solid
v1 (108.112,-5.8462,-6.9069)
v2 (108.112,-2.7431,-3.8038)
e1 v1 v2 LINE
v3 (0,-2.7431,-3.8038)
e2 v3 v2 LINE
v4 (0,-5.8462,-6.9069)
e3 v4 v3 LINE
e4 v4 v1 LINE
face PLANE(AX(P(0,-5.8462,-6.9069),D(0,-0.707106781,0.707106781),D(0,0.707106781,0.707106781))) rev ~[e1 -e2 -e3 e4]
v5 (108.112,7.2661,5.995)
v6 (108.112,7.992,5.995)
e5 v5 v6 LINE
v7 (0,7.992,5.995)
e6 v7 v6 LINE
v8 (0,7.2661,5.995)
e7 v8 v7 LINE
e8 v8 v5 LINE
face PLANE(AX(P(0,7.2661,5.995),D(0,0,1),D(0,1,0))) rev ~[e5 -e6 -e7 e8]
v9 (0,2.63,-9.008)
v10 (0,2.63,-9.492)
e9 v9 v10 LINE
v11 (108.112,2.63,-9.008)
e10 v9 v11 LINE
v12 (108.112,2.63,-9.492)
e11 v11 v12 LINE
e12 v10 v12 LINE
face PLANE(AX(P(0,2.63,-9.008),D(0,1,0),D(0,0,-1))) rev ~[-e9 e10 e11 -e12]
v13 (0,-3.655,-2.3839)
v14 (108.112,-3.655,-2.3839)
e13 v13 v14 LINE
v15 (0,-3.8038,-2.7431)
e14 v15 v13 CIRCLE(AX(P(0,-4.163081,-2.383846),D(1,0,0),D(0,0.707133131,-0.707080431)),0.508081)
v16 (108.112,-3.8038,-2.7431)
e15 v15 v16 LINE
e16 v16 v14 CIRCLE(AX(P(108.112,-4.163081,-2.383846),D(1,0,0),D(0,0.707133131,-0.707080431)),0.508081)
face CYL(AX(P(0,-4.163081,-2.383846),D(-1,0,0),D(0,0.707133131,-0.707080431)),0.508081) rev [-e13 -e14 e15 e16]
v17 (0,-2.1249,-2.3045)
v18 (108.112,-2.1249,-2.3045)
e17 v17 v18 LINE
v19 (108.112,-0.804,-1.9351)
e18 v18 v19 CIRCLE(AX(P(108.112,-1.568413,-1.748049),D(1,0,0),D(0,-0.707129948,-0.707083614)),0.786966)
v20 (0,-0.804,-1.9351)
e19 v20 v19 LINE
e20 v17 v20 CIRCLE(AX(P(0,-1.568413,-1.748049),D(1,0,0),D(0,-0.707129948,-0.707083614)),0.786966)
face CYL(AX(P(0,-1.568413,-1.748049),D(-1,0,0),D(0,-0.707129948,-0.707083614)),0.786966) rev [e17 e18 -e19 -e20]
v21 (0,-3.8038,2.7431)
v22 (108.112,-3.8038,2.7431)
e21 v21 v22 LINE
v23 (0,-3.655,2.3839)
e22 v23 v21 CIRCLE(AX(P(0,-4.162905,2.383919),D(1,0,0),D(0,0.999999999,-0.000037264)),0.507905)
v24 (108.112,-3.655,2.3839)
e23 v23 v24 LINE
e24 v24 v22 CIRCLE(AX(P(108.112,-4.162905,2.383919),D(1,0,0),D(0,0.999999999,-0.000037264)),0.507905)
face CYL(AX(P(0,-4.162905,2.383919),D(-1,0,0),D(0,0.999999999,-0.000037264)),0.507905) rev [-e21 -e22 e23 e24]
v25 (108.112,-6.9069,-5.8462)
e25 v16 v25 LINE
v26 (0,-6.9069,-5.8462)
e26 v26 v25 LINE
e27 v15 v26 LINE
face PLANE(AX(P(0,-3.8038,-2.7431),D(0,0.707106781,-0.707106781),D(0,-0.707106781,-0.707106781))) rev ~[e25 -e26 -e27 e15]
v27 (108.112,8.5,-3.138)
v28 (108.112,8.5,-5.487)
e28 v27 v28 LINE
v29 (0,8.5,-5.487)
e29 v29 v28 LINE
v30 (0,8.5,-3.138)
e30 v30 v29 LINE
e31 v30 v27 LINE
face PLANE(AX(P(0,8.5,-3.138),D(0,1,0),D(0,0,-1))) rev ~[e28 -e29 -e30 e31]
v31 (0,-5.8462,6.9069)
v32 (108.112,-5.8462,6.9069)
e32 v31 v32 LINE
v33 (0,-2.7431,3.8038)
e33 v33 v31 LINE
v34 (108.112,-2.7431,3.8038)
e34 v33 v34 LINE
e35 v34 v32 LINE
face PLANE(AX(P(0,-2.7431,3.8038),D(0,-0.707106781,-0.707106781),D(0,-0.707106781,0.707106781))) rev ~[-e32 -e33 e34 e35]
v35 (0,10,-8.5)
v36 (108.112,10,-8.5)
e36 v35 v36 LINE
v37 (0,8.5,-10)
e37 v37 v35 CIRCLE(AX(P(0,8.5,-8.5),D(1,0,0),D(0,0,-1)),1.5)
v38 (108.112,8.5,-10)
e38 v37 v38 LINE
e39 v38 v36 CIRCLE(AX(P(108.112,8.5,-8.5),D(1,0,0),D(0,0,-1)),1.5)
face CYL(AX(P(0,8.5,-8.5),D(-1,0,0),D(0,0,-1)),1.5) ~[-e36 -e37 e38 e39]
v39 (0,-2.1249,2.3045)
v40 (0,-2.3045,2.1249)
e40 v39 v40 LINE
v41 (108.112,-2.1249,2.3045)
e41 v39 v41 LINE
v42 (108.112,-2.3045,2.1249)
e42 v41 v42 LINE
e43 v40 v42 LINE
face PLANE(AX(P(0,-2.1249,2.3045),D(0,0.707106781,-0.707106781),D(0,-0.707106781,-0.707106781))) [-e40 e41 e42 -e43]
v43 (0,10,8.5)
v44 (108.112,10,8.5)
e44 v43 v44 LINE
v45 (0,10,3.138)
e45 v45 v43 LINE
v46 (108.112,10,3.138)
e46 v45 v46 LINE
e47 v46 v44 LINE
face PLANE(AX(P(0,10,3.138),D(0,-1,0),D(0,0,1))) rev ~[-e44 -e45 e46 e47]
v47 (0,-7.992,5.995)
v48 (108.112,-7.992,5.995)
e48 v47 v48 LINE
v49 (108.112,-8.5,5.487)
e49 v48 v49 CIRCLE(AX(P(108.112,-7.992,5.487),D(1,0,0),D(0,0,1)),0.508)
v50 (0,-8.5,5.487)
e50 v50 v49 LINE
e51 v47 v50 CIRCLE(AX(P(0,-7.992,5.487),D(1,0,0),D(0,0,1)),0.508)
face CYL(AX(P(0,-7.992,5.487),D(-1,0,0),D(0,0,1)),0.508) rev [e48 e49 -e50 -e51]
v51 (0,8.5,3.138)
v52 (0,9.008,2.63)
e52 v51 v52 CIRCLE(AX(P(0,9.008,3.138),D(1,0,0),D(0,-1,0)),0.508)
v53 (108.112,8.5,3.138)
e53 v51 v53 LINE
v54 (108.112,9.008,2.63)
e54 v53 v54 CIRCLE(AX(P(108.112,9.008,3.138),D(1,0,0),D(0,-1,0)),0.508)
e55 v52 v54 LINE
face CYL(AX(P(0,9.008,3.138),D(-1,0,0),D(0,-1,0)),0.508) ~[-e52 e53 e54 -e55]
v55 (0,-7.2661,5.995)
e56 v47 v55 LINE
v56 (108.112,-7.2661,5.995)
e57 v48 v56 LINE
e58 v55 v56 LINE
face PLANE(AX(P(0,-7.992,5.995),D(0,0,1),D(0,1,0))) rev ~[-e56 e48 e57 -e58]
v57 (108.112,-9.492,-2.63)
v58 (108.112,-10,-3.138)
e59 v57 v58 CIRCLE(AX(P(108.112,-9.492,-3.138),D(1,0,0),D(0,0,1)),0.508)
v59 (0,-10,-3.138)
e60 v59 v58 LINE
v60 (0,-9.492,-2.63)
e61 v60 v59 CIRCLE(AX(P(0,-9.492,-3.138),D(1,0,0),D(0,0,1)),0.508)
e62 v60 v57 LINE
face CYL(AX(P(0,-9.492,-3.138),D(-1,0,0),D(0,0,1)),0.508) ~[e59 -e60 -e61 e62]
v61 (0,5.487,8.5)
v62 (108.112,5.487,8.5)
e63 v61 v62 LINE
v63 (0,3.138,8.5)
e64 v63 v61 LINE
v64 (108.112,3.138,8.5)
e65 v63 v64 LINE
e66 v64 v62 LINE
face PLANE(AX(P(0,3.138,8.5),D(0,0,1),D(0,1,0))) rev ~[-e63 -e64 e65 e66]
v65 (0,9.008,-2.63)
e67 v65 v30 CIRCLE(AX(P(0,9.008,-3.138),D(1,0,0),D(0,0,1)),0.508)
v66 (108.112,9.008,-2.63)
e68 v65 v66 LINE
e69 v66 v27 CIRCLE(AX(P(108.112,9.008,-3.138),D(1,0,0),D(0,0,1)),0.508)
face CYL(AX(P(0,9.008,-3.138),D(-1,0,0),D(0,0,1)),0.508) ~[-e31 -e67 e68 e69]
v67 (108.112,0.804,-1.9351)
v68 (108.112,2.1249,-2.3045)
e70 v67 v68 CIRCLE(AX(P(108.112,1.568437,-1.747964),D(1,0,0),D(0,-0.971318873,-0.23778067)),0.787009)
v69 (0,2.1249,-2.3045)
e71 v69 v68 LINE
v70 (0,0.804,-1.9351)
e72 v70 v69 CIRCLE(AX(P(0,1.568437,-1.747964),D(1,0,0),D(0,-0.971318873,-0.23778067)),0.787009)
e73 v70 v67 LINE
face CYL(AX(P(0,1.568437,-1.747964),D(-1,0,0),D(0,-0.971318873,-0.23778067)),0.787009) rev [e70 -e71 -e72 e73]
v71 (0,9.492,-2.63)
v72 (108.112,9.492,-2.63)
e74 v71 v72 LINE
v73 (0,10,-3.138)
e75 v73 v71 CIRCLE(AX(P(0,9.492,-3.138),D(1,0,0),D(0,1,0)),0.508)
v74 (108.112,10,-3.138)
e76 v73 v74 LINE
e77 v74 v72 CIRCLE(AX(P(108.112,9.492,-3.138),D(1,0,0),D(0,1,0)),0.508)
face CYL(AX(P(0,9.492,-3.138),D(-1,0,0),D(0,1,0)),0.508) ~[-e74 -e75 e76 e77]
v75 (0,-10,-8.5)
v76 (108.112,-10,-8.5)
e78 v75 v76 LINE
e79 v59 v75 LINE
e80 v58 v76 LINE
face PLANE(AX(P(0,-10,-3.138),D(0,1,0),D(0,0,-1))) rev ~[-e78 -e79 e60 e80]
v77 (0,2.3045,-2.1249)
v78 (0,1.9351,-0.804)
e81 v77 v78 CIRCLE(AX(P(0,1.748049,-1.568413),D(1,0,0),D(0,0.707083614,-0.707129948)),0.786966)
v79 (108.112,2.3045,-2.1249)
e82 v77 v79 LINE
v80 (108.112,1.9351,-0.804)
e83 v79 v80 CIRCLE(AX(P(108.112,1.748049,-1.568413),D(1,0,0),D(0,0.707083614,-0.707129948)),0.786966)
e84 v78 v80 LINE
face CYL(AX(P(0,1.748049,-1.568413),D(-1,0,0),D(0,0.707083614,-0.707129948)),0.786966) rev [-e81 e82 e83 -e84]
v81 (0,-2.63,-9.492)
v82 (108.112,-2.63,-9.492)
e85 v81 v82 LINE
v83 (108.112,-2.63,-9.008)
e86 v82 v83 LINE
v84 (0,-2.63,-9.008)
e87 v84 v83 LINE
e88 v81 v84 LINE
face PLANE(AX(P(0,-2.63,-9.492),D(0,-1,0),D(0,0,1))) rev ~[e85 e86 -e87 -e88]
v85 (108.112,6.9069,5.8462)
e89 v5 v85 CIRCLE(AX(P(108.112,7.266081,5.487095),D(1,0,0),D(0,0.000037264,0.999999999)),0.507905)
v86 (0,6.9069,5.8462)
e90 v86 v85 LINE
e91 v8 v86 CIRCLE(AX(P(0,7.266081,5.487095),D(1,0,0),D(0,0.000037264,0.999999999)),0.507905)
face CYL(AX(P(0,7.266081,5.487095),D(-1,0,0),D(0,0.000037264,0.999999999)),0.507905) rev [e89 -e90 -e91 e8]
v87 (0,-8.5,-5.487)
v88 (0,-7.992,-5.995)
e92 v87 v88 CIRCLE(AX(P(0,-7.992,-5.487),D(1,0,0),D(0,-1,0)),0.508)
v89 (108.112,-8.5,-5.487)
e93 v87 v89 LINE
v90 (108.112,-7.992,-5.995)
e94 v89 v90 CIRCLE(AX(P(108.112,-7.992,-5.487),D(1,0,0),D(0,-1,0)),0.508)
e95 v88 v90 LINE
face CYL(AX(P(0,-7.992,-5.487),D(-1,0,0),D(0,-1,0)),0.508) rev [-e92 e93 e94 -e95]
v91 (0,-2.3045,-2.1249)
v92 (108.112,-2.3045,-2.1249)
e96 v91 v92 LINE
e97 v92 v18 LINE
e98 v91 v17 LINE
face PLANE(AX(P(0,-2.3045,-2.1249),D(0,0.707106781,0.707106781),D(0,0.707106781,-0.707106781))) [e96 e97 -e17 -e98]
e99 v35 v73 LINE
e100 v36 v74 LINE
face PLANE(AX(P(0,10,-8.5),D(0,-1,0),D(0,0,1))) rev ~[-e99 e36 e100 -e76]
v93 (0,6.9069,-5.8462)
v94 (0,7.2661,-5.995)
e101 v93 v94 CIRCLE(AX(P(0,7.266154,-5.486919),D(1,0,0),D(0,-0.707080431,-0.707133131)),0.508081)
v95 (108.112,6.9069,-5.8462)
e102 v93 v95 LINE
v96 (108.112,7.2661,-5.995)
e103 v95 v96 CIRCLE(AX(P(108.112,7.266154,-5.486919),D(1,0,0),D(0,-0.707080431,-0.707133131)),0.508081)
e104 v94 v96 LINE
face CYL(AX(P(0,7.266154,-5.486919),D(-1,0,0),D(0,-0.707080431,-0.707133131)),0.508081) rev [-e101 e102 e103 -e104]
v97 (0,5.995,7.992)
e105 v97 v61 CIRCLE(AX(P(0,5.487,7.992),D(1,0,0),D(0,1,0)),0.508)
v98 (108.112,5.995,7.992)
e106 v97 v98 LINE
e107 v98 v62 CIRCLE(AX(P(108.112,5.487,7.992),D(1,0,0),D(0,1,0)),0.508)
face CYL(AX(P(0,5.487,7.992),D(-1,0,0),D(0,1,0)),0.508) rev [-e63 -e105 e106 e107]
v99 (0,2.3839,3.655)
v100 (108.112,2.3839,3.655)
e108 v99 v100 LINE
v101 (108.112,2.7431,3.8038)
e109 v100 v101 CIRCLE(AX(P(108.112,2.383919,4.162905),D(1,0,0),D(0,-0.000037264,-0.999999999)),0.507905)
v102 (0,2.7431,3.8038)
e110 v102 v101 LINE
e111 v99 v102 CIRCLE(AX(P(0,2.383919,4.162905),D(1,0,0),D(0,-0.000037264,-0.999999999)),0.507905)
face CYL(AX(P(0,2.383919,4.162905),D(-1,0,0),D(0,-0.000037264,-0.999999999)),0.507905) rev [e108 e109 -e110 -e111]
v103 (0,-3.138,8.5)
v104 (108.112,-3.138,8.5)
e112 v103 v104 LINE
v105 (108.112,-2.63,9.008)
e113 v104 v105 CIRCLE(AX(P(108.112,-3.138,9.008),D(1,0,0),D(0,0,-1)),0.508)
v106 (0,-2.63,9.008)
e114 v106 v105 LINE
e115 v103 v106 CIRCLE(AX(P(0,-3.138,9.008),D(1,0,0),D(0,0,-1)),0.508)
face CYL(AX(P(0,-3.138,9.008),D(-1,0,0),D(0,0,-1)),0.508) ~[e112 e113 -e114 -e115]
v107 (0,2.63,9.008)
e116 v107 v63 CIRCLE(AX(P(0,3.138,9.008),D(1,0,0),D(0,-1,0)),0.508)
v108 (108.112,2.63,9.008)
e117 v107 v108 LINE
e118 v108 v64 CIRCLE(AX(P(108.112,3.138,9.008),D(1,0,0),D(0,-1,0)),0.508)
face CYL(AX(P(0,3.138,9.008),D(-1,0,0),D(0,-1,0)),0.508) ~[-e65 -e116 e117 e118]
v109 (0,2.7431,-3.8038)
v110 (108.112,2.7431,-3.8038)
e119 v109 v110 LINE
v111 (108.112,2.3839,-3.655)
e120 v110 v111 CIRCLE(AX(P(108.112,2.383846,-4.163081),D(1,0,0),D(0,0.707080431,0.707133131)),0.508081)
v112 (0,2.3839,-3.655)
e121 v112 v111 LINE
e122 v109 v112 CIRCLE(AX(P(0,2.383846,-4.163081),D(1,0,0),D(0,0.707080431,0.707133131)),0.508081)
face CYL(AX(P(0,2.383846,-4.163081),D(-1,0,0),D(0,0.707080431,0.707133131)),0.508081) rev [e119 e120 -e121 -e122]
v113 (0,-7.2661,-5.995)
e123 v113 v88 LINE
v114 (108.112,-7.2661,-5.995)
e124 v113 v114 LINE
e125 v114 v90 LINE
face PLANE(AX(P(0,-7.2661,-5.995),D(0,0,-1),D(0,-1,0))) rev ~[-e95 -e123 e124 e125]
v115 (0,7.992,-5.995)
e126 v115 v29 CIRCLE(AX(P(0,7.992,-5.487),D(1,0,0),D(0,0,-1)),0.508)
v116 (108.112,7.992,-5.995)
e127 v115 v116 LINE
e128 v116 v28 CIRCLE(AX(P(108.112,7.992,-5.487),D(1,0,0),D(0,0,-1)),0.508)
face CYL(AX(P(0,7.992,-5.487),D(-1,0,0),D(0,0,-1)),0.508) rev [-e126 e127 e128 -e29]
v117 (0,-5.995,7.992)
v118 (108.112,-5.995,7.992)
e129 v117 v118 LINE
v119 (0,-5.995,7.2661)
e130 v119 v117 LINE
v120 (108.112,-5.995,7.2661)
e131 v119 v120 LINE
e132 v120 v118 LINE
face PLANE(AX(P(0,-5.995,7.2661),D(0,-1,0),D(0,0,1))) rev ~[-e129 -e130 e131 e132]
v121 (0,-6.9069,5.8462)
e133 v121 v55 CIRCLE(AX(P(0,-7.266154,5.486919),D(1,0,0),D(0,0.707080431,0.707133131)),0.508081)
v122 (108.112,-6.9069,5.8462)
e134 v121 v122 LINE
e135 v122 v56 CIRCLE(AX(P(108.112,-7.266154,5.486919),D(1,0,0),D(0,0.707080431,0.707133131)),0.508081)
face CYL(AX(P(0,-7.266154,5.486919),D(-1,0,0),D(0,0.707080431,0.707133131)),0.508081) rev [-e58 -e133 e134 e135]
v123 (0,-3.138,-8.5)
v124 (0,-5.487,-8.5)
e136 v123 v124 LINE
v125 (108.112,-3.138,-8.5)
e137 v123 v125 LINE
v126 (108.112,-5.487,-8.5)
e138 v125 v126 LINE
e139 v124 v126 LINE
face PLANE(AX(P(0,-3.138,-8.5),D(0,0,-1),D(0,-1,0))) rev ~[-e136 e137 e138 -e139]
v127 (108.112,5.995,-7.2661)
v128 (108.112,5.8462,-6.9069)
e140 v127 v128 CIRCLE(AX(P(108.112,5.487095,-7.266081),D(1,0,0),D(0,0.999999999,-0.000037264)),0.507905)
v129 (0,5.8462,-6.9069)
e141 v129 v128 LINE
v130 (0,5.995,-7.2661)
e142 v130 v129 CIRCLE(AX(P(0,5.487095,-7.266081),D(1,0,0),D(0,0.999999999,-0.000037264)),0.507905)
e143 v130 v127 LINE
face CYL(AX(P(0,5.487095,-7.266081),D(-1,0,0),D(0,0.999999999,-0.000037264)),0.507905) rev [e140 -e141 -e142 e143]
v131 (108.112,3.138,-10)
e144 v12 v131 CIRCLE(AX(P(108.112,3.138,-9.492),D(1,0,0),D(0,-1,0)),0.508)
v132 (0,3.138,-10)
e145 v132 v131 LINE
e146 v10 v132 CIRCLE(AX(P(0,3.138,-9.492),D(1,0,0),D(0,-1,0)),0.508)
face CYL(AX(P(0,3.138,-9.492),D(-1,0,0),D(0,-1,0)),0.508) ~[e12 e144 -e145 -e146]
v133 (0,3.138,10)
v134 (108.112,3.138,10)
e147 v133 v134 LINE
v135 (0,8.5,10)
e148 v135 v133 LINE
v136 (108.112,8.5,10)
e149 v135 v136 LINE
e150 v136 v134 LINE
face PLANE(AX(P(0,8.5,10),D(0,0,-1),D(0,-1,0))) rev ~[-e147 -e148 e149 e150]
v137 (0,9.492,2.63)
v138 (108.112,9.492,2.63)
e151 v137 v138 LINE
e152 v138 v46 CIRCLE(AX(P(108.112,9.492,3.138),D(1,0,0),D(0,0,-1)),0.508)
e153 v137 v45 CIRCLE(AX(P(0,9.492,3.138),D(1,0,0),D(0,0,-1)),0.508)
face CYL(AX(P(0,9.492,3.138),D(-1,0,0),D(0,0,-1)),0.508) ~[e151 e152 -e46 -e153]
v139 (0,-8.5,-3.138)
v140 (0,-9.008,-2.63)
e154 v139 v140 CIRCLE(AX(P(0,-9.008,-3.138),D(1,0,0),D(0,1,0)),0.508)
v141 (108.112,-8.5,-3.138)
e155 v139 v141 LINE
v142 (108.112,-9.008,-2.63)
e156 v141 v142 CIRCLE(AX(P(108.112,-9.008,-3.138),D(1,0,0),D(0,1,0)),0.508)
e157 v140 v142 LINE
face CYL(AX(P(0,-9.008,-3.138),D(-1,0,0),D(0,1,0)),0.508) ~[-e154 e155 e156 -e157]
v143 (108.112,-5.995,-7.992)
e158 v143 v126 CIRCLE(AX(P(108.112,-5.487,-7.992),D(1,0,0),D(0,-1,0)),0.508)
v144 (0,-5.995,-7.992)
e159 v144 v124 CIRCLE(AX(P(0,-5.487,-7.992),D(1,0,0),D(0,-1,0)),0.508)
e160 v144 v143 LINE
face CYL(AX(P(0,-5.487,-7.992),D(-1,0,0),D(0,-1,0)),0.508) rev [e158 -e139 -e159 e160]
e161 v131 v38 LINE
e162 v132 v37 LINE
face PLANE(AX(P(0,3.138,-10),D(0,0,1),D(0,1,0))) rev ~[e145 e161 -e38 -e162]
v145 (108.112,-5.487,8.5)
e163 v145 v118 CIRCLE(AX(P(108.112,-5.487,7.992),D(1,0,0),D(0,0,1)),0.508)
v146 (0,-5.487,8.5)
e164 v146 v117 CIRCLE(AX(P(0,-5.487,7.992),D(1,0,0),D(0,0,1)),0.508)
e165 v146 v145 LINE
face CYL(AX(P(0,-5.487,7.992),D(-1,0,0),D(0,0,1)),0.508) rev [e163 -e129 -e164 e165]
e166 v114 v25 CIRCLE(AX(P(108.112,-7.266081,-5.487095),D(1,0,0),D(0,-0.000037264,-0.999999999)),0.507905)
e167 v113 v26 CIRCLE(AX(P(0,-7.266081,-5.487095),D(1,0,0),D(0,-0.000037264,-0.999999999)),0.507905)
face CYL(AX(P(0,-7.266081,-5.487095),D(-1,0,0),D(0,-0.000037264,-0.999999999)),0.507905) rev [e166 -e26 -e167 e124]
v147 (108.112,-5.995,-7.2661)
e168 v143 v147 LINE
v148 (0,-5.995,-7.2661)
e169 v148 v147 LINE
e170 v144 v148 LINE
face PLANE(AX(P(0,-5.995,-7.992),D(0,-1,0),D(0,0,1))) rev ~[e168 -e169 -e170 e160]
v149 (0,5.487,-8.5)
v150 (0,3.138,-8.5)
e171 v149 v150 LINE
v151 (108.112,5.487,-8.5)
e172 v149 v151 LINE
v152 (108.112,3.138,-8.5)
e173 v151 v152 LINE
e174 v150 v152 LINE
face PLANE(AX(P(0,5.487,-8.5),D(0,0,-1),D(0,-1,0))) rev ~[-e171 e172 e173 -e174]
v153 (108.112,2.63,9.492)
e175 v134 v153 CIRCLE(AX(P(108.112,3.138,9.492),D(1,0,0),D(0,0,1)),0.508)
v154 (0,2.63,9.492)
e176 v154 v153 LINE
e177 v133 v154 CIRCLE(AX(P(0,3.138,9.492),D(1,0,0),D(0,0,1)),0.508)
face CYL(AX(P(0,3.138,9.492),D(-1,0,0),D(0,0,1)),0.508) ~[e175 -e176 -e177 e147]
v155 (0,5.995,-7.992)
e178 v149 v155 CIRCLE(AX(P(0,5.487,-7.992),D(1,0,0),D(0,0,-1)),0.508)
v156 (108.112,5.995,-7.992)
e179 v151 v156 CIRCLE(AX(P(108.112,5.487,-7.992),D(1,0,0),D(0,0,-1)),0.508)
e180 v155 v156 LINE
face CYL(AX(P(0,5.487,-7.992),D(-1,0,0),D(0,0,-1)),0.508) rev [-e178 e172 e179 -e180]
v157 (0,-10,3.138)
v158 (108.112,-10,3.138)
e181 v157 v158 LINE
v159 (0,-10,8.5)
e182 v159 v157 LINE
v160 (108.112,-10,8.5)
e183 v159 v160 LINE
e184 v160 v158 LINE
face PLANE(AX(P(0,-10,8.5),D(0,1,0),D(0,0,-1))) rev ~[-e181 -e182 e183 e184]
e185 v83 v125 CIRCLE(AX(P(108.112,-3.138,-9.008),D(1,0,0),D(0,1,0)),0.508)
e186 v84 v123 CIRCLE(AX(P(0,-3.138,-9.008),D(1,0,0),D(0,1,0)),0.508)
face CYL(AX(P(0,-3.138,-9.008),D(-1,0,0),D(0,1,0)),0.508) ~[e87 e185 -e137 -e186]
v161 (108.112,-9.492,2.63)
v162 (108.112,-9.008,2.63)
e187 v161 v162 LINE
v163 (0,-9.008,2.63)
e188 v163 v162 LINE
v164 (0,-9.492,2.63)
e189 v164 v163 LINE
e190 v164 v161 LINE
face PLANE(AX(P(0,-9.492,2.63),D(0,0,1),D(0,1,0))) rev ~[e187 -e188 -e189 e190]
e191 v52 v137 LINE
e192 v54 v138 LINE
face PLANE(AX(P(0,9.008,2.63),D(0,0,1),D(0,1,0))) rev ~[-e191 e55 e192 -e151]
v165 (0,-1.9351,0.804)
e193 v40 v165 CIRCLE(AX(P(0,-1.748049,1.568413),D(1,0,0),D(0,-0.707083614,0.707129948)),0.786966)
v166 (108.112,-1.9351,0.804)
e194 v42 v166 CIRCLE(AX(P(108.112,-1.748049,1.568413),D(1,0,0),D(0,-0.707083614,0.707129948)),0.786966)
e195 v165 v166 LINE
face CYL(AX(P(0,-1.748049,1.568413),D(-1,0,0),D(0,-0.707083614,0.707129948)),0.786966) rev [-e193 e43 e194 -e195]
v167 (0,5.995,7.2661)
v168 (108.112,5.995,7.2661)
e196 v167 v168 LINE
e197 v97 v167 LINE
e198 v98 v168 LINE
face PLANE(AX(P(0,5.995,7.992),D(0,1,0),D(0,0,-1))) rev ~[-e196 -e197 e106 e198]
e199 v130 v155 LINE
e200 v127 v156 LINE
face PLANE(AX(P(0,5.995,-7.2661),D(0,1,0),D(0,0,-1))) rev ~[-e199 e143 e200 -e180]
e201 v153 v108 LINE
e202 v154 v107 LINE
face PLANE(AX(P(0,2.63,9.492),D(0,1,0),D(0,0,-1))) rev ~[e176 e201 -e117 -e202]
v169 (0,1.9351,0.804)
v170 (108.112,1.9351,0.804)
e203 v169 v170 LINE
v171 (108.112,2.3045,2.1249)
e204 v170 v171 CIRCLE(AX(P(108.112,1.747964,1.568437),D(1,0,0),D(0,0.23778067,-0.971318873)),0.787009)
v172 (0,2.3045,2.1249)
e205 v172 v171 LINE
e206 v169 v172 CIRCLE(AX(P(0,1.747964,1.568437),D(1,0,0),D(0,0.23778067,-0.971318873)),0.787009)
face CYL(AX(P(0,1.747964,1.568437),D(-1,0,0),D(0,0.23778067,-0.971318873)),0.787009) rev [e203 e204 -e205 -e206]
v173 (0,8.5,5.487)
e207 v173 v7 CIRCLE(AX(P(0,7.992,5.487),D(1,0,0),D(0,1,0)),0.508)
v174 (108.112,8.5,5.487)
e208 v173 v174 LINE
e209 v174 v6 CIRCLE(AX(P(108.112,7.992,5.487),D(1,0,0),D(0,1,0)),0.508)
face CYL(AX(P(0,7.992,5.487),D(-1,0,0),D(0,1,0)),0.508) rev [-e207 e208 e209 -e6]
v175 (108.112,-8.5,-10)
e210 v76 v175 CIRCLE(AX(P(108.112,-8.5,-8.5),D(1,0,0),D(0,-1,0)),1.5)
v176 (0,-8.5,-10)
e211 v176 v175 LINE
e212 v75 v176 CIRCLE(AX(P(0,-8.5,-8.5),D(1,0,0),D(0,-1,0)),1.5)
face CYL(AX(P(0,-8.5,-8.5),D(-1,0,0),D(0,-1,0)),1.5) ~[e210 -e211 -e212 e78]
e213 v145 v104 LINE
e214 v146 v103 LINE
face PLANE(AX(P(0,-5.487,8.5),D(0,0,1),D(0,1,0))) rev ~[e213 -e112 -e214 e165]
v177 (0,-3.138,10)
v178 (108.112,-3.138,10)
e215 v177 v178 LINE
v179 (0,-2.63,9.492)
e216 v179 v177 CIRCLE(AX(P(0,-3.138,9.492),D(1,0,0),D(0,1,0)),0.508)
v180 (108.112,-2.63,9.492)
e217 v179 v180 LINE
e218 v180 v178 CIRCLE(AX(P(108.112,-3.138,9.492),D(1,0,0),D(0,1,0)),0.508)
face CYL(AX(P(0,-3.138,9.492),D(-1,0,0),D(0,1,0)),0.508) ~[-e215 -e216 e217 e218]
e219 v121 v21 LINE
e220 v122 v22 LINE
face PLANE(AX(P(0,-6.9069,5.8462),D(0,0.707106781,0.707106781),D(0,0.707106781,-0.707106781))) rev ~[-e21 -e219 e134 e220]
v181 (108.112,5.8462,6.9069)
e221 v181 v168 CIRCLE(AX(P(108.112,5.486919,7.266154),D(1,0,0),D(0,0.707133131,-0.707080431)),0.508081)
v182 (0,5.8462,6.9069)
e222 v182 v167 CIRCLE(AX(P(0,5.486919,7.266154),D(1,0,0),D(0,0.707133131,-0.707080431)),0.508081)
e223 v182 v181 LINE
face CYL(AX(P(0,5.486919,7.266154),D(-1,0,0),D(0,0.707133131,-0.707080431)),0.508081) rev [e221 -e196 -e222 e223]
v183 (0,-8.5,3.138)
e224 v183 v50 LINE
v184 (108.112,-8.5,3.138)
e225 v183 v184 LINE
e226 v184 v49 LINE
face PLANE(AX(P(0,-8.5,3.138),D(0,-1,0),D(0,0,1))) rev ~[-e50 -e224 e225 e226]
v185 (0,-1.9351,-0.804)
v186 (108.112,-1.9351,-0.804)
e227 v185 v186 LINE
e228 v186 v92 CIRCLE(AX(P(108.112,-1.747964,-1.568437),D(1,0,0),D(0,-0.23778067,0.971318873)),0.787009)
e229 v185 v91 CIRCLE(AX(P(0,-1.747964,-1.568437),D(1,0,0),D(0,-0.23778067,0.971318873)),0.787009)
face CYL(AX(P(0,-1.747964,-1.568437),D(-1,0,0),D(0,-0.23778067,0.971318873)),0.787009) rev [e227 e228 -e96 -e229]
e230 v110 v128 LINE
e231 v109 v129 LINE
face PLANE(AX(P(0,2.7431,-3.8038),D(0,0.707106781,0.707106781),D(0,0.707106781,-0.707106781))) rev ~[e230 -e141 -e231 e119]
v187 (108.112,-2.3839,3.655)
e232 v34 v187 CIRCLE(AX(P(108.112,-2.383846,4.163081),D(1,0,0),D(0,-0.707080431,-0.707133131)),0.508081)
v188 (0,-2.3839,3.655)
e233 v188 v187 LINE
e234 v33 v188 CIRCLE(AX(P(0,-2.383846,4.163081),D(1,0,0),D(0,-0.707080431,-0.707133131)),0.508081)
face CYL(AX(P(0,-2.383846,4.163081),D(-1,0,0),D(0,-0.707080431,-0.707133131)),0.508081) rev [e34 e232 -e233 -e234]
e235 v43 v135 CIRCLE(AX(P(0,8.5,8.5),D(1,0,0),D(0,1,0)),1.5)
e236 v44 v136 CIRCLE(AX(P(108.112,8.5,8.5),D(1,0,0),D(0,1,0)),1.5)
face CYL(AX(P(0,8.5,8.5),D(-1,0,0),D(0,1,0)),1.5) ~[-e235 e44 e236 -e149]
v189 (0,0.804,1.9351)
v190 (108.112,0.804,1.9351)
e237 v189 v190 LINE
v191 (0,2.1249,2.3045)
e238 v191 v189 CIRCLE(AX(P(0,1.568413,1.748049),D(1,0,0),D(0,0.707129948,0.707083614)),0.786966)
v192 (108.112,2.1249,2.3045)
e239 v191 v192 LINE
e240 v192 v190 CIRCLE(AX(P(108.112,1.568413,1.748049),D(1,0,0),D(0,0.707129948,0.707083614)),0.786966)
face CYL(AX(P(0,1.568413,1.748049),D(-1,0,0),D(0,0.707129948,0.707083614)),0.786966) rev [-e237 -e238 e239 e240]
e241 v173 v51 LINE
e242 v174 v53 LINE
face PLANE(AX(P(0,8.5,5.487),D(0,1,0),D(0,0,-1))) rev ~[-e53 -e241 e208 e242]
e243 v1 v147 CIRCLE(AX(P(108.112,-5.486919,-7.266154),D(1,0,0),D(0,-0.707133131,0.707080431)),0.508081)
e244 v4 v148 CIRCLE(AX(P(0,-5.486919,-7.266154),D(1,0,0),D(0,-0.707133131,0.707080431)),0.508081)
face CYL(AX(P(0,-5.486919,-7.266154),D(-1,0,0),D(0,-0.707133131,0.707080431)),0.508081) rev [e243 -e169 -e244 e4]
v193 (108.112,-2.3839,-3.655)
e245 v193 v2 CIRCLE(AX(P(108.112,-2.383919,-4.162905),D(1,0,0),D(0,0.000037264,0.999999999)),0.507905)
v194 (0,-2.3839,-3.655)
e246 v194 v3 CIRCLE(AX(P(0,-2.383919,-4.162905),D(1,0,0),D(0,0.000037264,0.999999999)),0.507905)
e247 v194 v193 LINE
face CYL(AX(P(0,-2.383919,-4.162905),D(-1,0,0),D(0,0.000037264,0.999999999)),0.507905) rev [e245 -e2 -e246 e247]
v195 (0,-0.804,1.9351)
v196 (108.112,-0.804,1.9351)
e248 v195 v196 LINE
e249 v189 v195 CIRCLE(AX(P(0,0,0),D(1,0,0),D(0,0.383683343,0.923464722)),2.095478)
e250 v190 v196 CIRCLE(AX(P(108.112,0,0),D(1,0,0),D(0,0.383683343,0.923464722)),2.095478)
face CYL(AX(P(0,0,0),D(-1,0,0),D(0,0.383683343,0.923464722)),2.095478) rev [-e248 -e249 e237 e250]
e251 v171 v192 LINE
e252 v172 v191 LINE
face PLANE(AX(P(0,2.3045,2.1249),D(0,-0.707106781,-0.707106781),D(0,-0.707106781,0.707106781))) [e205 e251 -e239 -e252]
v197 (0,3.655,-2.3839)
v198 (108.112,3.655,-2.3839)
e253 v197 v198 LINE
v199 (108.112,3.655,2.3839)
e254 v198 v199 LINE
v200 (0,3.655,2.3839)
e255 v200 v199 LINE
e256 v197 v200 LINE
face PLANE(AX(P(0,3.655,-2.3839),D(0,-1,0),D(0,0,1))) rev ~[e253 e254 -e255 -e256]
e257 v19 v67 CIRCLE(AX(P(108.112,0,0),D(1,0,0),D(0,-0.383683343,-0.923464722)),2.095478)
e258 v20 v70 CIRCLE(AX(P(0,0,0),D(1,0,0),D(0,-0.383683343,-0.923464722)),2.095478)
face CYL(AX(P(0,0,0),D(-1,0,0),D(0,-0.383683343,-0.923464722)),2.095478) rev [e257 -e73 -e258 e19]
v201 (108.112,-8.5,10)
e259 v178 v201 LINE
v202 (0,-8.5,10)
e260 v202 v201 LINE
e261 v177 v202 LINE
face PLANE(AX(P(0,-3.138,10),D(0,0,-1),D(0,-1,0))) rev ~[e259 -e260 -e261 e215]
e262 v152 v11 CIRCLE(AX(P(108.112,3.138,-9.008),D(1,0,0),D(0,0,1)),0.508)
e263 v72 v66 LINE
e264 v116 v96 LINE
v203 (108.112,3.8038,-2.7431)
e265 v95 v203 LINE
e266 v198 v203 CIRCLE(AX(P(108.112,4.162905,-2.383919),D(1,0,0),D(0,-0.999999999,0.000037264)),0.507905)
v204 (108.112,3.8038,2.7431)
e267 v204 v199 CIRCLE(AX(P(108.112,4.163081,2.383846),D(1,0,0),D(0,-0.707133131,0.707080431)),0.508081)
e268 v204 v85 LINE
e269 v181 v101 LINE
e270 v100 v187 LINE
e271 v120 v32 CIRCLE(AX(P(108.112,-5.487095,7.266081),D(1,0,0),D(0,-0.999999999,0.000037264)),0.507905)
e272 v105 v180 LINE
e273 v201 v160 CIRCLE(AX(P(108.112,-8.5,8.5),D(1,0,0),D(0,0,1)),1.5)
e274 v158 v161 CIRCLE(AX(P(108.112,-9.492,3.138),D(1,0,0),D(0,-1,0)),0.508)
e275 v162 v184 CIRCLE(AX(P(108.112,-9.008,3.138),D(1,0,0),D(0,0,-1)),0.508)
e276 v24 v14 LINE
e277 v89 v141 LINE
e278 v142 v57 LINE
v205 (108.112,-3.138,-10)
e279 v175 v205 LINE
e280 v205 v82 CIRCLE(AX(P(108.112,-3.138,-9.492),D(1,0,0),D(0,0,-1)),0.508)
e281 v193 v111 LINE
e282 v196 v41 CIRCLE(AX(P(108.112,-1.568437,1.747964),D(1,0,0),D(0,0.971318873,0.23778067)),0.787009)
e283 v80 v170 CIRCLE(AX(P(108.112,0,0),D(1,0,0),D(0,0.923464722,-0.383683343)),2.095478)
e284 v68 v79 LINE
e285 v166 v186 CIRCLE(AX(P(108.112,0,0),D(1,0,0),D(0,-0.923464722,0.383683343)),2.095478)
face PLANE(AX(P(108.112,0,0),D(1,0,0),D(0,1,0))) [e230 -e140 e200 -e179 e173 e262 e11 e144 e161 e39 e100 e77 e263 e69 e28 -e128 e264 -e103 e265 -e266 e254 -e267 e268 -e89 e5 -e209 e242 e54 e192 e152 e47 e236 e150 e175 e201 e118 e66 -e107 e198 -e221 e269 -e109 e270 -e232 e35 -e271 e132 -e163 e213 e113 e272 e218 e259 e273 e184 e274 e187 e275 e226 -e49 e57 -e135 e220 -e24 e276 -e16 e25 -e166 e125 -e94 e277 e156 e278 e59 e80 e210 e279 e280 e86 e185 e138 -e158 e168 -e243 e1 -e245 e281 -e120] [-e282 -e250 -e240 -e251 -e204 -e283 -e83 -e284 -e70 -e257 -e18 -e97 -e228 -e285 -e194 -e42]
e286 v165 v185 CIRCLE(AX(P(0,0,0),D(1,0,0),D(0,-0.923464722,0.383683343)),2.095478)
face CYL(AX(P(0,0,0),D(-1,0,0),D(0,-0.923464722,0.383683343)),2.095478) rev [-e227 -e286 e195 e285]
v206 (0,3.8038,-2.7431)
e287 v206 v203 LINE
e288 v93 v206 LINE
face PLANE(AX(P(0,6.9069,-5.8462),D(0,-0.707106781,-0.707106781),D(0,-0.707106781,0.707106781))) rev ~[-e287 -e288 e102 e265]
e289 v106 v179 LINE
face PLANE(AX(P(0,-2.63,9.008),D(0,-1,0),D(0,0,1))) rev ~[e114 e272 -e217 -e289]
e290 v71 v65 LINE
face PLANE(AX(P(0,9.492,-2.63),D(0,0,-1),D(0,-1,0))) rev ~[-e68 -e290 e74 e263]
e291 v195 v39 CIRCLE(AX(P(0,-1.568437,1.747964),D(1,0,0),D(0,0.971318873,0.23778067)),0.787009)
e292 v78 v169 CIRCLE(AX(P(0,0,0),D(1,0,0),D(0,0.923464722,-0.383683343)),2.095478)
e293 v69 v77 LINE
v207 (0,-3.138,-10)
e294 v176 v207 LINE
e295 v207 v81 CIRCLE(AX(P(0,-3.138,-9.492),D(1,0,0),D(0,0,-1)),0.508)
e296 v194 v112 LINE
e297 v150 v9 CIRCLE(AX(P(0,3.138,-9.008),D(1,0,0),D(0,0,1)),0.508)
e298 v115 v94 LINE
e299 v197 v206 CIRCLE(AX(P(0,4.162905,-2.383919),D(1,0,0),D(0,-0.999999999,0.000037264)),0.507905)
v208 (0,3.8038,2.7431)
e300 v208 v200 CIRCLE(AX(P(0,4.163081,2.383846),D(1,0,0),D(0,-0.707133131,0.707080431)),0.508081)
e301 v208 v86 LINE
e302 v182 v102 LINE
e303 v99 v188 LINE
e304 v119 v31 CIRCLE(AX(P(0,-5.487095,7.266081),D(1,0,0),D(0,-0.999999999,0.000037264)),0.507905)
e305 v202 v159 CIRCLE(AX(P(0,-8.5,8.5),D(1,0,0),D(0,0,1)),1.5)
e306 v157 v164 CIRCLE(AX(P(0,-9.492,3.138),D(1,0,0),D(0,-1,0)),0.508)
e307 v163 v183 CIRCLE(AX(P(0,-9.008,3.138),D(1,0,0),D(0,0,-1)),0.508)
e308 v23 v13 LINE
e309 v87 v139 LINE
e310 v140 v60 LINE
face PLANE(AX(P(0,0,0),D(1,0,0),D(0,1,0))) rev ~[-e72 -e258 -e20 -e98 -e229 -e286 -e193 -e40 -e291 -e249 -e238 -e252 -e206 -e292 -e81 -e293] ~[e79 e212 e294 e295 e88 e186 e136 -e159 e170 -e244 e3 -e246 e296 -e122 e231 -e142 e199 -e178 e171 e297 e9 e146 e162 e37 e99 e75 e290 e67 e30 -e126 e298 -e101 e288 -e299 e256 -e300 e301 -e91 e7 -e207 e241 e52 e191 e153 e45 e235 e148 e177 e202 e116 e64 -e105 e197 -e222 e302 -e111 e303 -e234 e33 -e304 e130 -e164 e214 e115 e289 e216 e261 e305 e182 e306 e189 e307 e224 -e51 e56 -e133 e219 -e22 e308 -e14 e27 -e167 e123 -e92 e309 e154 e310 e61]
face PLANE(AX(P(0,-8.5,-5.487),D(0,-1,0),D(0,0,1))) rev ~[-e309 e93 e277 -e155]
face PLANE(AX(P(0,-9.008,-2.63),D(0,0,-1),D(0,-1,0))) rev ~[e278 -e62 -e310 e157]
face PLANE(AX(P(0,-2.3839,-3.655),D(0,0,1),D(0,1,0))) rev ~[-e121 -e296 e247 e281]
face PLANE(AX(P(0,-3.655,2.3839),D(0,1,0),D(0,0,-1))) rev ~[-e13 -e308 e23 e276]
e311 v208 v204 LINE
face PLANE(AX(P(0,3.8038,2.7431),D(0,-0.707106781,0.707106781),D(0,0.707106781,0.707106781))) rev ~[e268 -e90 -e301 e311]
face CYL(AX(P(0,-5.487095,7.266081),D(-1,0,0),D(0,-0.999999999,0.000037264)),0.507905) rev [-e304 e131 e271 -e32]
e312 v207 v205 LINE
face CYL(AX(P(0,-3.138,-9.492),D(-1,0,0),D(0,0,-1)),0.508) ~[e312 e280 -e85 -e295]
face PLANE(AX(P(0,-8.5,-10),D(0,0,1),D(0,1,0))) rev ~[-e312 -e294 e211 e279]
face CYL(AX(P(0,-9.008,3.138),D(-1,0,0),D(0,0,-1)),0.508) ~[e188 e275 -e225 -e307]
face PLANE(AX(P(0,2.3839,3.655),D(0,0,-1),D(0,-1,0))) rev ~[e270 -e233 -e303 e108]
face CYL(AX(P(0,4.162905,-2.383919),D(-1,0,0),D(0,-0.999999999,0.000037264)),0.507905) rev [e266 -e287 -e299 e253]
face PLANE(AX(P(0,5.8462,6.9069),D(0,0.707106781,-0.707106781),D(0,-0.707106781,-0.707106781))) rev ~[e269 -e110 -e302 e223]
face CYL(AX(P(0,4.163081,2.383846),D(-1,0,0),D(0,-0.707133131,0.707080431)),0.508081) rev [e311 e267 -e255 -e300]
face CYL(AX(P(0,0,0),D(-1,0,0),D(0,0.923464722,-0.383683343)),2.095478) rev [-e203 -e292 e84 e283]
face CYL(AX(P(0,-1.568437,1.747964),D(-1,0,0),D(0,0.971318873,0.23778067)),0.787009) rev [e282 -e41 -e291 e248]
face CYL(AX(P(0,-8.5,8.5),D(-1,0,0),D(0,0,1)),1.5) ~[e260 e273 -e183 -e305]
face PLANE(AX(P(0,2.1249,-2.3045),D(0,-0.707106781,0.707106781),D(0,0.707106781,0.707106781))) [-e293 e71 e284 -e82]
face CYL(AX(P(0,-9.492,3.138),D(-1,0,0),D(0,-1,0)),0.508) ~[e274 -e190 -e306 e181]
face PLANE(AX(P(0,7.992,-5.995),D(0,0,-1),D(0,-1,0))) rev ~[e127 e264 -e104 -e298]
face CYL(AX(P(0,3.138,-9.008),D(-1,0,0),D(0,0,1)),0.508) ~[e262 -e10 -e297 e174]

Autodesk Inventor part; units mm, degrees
ref_plane "YZ Plane" through (0, 0, 0) normal (1, 0, 0) x (0, 1, 0)
ref_plane "XZ Plane" through (0, 0, 0) normal (0, 1, 0) x (-1, 0, 0)
ref_plane "XY Plane" through (0, 0, 0) normal (0, 0, 1) x (1, 0, 0)
sketch "Sketch1" plane through (0, 0, 0) normal (1, 0, 0) x (0, 1, 0)
  arc A0 (0.804, -1.9351) -> (2.1249, -2.3045) centre (1.5684, -1.748) ccw
  line L0 (2.1249, -2.3045) -> (2.3045, -2.1249)
  arc A1 (2.3045, -2.1249) -> (1.9351, -0.804) centre (1.748, -1.5684) ccw
  arc A2 (1.9351, -0.804) -> (1.9351, 0.804) centre (0, 0) ccw
  arc A3 (1.9351, 0.804) -> (2.3045, 2.1249) centre (1.748, 1.5684) ccw
  line L1 (2.3045, 2.1249) -> (2.1249, 2.3045)
  arc A4 (2.1249, 2.3045) -> (0.804, 1.9351) centre (1.5684, 1.748) ccw
  arc A5 (0.804, 1.9351) -> (-0.804, 1.9351) centre (0, 0) ccw
  arc A6 (-0.804, 1.9351) -> (-2.1249, 2.3045) centre (-1.5684, 1.748) ccw
  line L2 (-2.1249, 2.3045) -> (-2.3045, 2.1249)
  arc A7 (-2.3045, 2.1249) -> (-1.9351, 0.804) centre (-1.748, 1.5684) ccw
  arc A8 (-1.9351, 0.804) -> (-1.9351, -0.804) centre (0, 0) ccw
  arc A9 (-1.9351, -0.804) -> (-2.3045, -2.1249) centre (-1.748, -1.5684) ccw
  line L3 (-2.3045, -2.1249) -> (-2.1249, -2.3045)
  arc A10 (-2.1249, -2.3045) -> (-0.804, -1.9351) centre (-1.5684, -1.748) ccw
  arc A11 (-0.804, -1.9351) -> (0.804, -1.9351) centre (0, 0) ccw
  line L4 (9.008, 2.63) -> (9.492, 2.63)
  arc A12 (8.5, 3.138) -> (9.008, 2.63) centre (9.008, 3.138) ccw
  line L5 (8.5, 5.487) -> (8.5, 3.138)
  arc A13 (8.5, 5.487) -> (7.992, 5.995) centre (7.992, 5.487) ccw
  line L6 (7.2661, 5.995) -> (7.992, 5.995)
  arc A14 (7.2661, 5.995) -> (6.9069, 5.8462) centre (7.2661, 5.487) ccw
  line L7 (3.8038, 2.7431) -> (6.9069, 5.8462)
  arc A15 (3.8038, 2.7431) -> (3.655, 2.3839) centre (4.163, 2.3839) ccw
  line L8 (3.655, -2.3839) -> (3.655, 2.3839)
  arc A16 (3.655, -2.3839) -> (3.8038, -2.7431) centre (4.163, -2.3839) ccw
  line L9 (6.9069, -5.8462) -> (3.8038, -2.7431)
  arc A17 (6.9069, -5.8462) -> (7.2661, -5.995) centre (7.2661, -5.487) ccw
  line L10 (7.992, -5.995) -> (7.2661, -5.995)
  arc A18 (7.992, -5.995) -> (8.5, -5.487) centre (7.992, -5.487) ccw
  line L11 (8.5, -3.138) -> (8.5, -5.487)
  arc A19 (9.008, -2.63) -> (8.5, -3.138) centre (9.008, -3.138) ccw
  line L12 (9.492, -2.63) -> (9.008, -2.63)
  arc A20 (10, -3.138) -> (9.492, -2.63) centre (9.492, -3.138) ccw
  line L13 (10, -8.5) -> (10, -3.138)
  arc A21 (8.5, -10) -> (10, -8.5) centre (8.5, -8.5) ccw
  line L14 (3.138, -10) -> (8.5, -10)
  arc A22 (2.63, -9.492) -> (3.138, -10) centre (3.138, -9.492) ccw
  line L15 (2.63, -9.008) -> (2.63, -9.492)
  arc A23 (3.138, -8.5) -> (2.63, -9.008) centre (3.138, -9.008) ccw
  line L16 (5.487, -8.5) -> (3.138, -8.5)
  arc A24 (5.487, -8.5) -> (5.995, -7.992) centre (5.487, -7.992) ccw
  line L17 (5.995, -7.2661) -> (5.995, -7.992)
  arc A25 (5.995, -7.2661) -> (5.8462, -6.9069) centre (5.487, -7.2661) ccw
  line L18 (2.7431, -3.8038) -> (5.8462, -6.9069)
  arc A26 (2.7431, -3.8038) -> (2.3839, -3.655) centre (2.3839, -4.163) ccw
  line L19 (-2.3839, -3.655) -> (2.3839, -3.655)
  arc A27 (-2.3839, -3.655) -> (-2.7431, -3.8038) centre (-2.3839, -4.163) ccw
  line L20 (-5.8462, -6.9069) -> (-2.7431, -3.8038)
  arc A28 (-5.8462, -6.9069) -> (-5.995, -7.2661) centre (-5.487, -7.2661) ccw
  line L21 (-5.995, -7.992) -> (-5.995, -7.2661)
  arc A29 (-5.995, -7.992) -> (-5.487, -8.5) centre (-5.487, -7.992) ccw
  line L22 (-3.138, -8.5) -> (-5.487, -8.5)
  arc A30 (-2.63, -9.008) -> (-3.138, -8.5) centre (-3.138, -9.008) ccw
  line L23 (-2.63, -9.492) -> (-2.63, -9.008)
  arc A31 (-3.138, -10) -> (-2.63, -9.492) centre (-3.138, -9.492) ccw
  line L24 (-8.5, -10) -> (-3.138, -10)
  arc A32 (-10, -8.5) -> (-8.5, -10) centre (-8.5, -8.5) ccw
  line L25 (-10, -3.138) -> (-10, -8.5)
  arc A33 (-9.492, -2.63) -> (-10, -3.138) centre (-9.492, -3.138) ccw
  line L26 (-9.008, -2.63) -> (-9.492, -2.63)
  arc A34 (-8.5, -3.138) -> (-9.008, -2.63) centre (-9.008, -3.138) ccw
  line L27 (-8.5, -5.487) -> (-8.5, -3.138)
  arc A35 (-8.5, -5.487) -> (-7.992, -5.995) centre (-7.992, -5.487) ccw
  line L28 (-7.2661, -5.995) -> (-7.992, -5.995)
  arc A36 (-7.2661, -5.995) -> (-6.9069, -5.8462) centre (-7.2661, -5.487) ccw
  line L29 (-3.8038, -2.7431) -> (-6.9069, -5.8462)
  arc A37 (-3.8038, -2.7431) -> (-3.655, -2.3839) centre (-4.163, -2.3839) ccw
  line L30 (-3.655, 2.3839) -> (-3.655, -2.3839)
  arc A38 (-3.655, 2.3839) -> (-3.8038, 2.7431) centre (-4.163, 2.3839) ccw
  line L31 (-6.9069, 5.8462) -> (-3.8038, 2.7431)
  arc A39 (-6.9069, 5.8462) -> (-7.2661, 5.995) centre (-7.2661, 5.487) ccw
  line L32 (-7.992, 5.995) -> (-7.2661, 5.995)
  arc A40 (-7.992, 5.995) -> (-8.5, 5.487) centre (-7.992, 5.487) ccw
  line L33 (-8.5, 3.138) -> (-8.5, 5.487)
  arc A41 (-9.008, 2.63) -> (-8.5, 3.138) centre (-9.008, 3.138) ccw
  line L34 (-9.492, 2.63) -> (-9.008, 2.63)
  arc A42 (-10, 3.138) -> (-9.492, 2.63) centre (-9.492, 3.138) ccw
  line L35 (-10, 8.5) -> (-10, 3.138)
  arc A43 (-8.5, 10) -> (-10, 8.5) centre (-8.5, 8.5) ccw
  line L36 (-3.138, 10) -> (-8.5, 10)
  arc A44 (-2.63, 9.492) -> (-3.138, 10) centre (-3.138, 9.492) ccw
  line L37 (-2.63, 9.008) -> (-2.63, 9.492)
  arc A45 (-3.138, 8.5) -> (-2.63, 9.008) centre (-3.138, 9.008) ccw
  line L38 (-5.487, 8.5) -> (-3.138, 8.5)
  arc A46 (-5.487, 8.5) -> (-5.995, 7.992) centre (-5.487, 7.992) ccw
  line L39 (-5.995, 7.2661) -> (-5.995, 7.992)
  arc A47 (-5.995, 7.2661) -> (-5.8462, 6.9069) centre (-5.487, 7.2661) ccw
  line L40 (-2.7431, 3.8038) -> (-5.8462, 6.9069)
  arc A48 (-2.7431, 3.8038) -> (-2.3839, 3.655) centre (-2.3839, 4.163) ccw
  line L41 (2.3839, 3.655) -> (-2.3839, 3.655)
  arc A49 (2.3839, 3.655) -> (2.7431, 3.8038) centre (2.3839, 4.163) ccw
  line L42 (5.8462, 6.9069) -> (2.7431, 3.8038)
  arc A50 (5.8462, 6.9069) -> (5.995, 7.2661) centre (5.487, 7.2661) ccw
  line L43 (5.995, 7.992) -> (5.995, 7.2661)
  arc A51 (5.995, 7.992) -> (5.487, 8.5) centre (5.487, 7.992) ccw
  line L44 (3.138, 8.5) -> (5.487, 8.5)
  arc A52 (2.63, 9.008) -> (3.138, 8.5) centre (3.138, 9.008) ccw
  line L45 (2.63, 9.492) -> (2.63, 9.008)
  arc A53 (3.138, 10) -> (2.63, 9.492) centre (3.138, 9.492) ccw
  line L46 (8.5, 10) -> (3.138, 10)
  arc A54 (10, 8.5) -> (8.5, 10) centre (8.5, 8.5) ccw
  line L47 (10, 3.138) -> (10, 8.5)
  arc A55 (9.492, 2.63) -> (10, 3.138) centre (9.492, 3.138) ccw
  point P0 (0.804, -1.9351)
  point P1 (-0.804, -1.9351)
  point P2 (-2.3045, -2.1249)
  point P3 (-1.9351, -0.804)
  point P4 (-1.9351, 0.804)
  point P5 (-2.1249, 2.3045)
  point P6 (-0.804, 1.9351)
  point P7 (0.804, 1.9351)
  point P8 (2.3045, 2.1249)
  point P9 (1.9351, 0.804)
  point P10 (1.9351, -0.804)
  point P11 (2.1249, -2.3045)
  point P12 (8.5, 3.138)
  point P13 (10, 8.5)
  point P14 (3.138, 10)
  point P15 (2.63, 9.008)
  point P16 (5.487, 8.5)
  point P17 (5.995, 7.2661)
  point P18 (2.7431, 3.8038)
  point P19 (-2.3839, 3.655)
  point P20 (-5.8462, 6.9069)
  point P21 (-5.995, 7.992)
  point P22 (-3.138, 8.5)
  point P23 (-2.63, 9.492)
  point P24 (-8.5, 10)
  point P25 (-10, 3.138)
  point P26 (-9.008, 2.63)
  point P27 (-8.5, 5.487)
  point P28 (-7.2661, 5.995)
  point P29 (-3.8038, 2.7431)
  point P30 (-3.655, -2.3839)
  point P31 (-6.9069, -5.8462)
  point P32 (-7.992, -5.995)
  point P33 (-8.5, -3.138)
  point P34 (-9.492, -2.63)
  point P35 (-10, -8.5)
  point P36 (-3.138, -10)
  point P37 (-2.63, -9.008)
  point P38 (-5.487, -8.5)
  point P39 (-5.995, -7.2661)
  point P40 (-2.7431, -3.8038)
  point P41 (2.3839, -3.655)
  point P42 (5.8462, -6.9069)
  point P43 (5.995, -7.992)
  point P44 (3.138, -8.5)
  point P45 (2.63, -9.492)
  point P46 (8.5, -10)
  point P47 (10, -3.138)
  point P48 (9.008, -2.63)
  point P49 (8.5, -5.487)
  point P50 (7.2661, -5.995)
  point P51 (3.8038, -2.7431)
  point P52 (3.655, 2.3839)
  point P53 (6.9069, 5.8462)
  point P54 (7.992, 5.995)
extrude "Extrusion1" add sketch "Sketch1" along normal blind 108.112
properties part number "2020_108"
